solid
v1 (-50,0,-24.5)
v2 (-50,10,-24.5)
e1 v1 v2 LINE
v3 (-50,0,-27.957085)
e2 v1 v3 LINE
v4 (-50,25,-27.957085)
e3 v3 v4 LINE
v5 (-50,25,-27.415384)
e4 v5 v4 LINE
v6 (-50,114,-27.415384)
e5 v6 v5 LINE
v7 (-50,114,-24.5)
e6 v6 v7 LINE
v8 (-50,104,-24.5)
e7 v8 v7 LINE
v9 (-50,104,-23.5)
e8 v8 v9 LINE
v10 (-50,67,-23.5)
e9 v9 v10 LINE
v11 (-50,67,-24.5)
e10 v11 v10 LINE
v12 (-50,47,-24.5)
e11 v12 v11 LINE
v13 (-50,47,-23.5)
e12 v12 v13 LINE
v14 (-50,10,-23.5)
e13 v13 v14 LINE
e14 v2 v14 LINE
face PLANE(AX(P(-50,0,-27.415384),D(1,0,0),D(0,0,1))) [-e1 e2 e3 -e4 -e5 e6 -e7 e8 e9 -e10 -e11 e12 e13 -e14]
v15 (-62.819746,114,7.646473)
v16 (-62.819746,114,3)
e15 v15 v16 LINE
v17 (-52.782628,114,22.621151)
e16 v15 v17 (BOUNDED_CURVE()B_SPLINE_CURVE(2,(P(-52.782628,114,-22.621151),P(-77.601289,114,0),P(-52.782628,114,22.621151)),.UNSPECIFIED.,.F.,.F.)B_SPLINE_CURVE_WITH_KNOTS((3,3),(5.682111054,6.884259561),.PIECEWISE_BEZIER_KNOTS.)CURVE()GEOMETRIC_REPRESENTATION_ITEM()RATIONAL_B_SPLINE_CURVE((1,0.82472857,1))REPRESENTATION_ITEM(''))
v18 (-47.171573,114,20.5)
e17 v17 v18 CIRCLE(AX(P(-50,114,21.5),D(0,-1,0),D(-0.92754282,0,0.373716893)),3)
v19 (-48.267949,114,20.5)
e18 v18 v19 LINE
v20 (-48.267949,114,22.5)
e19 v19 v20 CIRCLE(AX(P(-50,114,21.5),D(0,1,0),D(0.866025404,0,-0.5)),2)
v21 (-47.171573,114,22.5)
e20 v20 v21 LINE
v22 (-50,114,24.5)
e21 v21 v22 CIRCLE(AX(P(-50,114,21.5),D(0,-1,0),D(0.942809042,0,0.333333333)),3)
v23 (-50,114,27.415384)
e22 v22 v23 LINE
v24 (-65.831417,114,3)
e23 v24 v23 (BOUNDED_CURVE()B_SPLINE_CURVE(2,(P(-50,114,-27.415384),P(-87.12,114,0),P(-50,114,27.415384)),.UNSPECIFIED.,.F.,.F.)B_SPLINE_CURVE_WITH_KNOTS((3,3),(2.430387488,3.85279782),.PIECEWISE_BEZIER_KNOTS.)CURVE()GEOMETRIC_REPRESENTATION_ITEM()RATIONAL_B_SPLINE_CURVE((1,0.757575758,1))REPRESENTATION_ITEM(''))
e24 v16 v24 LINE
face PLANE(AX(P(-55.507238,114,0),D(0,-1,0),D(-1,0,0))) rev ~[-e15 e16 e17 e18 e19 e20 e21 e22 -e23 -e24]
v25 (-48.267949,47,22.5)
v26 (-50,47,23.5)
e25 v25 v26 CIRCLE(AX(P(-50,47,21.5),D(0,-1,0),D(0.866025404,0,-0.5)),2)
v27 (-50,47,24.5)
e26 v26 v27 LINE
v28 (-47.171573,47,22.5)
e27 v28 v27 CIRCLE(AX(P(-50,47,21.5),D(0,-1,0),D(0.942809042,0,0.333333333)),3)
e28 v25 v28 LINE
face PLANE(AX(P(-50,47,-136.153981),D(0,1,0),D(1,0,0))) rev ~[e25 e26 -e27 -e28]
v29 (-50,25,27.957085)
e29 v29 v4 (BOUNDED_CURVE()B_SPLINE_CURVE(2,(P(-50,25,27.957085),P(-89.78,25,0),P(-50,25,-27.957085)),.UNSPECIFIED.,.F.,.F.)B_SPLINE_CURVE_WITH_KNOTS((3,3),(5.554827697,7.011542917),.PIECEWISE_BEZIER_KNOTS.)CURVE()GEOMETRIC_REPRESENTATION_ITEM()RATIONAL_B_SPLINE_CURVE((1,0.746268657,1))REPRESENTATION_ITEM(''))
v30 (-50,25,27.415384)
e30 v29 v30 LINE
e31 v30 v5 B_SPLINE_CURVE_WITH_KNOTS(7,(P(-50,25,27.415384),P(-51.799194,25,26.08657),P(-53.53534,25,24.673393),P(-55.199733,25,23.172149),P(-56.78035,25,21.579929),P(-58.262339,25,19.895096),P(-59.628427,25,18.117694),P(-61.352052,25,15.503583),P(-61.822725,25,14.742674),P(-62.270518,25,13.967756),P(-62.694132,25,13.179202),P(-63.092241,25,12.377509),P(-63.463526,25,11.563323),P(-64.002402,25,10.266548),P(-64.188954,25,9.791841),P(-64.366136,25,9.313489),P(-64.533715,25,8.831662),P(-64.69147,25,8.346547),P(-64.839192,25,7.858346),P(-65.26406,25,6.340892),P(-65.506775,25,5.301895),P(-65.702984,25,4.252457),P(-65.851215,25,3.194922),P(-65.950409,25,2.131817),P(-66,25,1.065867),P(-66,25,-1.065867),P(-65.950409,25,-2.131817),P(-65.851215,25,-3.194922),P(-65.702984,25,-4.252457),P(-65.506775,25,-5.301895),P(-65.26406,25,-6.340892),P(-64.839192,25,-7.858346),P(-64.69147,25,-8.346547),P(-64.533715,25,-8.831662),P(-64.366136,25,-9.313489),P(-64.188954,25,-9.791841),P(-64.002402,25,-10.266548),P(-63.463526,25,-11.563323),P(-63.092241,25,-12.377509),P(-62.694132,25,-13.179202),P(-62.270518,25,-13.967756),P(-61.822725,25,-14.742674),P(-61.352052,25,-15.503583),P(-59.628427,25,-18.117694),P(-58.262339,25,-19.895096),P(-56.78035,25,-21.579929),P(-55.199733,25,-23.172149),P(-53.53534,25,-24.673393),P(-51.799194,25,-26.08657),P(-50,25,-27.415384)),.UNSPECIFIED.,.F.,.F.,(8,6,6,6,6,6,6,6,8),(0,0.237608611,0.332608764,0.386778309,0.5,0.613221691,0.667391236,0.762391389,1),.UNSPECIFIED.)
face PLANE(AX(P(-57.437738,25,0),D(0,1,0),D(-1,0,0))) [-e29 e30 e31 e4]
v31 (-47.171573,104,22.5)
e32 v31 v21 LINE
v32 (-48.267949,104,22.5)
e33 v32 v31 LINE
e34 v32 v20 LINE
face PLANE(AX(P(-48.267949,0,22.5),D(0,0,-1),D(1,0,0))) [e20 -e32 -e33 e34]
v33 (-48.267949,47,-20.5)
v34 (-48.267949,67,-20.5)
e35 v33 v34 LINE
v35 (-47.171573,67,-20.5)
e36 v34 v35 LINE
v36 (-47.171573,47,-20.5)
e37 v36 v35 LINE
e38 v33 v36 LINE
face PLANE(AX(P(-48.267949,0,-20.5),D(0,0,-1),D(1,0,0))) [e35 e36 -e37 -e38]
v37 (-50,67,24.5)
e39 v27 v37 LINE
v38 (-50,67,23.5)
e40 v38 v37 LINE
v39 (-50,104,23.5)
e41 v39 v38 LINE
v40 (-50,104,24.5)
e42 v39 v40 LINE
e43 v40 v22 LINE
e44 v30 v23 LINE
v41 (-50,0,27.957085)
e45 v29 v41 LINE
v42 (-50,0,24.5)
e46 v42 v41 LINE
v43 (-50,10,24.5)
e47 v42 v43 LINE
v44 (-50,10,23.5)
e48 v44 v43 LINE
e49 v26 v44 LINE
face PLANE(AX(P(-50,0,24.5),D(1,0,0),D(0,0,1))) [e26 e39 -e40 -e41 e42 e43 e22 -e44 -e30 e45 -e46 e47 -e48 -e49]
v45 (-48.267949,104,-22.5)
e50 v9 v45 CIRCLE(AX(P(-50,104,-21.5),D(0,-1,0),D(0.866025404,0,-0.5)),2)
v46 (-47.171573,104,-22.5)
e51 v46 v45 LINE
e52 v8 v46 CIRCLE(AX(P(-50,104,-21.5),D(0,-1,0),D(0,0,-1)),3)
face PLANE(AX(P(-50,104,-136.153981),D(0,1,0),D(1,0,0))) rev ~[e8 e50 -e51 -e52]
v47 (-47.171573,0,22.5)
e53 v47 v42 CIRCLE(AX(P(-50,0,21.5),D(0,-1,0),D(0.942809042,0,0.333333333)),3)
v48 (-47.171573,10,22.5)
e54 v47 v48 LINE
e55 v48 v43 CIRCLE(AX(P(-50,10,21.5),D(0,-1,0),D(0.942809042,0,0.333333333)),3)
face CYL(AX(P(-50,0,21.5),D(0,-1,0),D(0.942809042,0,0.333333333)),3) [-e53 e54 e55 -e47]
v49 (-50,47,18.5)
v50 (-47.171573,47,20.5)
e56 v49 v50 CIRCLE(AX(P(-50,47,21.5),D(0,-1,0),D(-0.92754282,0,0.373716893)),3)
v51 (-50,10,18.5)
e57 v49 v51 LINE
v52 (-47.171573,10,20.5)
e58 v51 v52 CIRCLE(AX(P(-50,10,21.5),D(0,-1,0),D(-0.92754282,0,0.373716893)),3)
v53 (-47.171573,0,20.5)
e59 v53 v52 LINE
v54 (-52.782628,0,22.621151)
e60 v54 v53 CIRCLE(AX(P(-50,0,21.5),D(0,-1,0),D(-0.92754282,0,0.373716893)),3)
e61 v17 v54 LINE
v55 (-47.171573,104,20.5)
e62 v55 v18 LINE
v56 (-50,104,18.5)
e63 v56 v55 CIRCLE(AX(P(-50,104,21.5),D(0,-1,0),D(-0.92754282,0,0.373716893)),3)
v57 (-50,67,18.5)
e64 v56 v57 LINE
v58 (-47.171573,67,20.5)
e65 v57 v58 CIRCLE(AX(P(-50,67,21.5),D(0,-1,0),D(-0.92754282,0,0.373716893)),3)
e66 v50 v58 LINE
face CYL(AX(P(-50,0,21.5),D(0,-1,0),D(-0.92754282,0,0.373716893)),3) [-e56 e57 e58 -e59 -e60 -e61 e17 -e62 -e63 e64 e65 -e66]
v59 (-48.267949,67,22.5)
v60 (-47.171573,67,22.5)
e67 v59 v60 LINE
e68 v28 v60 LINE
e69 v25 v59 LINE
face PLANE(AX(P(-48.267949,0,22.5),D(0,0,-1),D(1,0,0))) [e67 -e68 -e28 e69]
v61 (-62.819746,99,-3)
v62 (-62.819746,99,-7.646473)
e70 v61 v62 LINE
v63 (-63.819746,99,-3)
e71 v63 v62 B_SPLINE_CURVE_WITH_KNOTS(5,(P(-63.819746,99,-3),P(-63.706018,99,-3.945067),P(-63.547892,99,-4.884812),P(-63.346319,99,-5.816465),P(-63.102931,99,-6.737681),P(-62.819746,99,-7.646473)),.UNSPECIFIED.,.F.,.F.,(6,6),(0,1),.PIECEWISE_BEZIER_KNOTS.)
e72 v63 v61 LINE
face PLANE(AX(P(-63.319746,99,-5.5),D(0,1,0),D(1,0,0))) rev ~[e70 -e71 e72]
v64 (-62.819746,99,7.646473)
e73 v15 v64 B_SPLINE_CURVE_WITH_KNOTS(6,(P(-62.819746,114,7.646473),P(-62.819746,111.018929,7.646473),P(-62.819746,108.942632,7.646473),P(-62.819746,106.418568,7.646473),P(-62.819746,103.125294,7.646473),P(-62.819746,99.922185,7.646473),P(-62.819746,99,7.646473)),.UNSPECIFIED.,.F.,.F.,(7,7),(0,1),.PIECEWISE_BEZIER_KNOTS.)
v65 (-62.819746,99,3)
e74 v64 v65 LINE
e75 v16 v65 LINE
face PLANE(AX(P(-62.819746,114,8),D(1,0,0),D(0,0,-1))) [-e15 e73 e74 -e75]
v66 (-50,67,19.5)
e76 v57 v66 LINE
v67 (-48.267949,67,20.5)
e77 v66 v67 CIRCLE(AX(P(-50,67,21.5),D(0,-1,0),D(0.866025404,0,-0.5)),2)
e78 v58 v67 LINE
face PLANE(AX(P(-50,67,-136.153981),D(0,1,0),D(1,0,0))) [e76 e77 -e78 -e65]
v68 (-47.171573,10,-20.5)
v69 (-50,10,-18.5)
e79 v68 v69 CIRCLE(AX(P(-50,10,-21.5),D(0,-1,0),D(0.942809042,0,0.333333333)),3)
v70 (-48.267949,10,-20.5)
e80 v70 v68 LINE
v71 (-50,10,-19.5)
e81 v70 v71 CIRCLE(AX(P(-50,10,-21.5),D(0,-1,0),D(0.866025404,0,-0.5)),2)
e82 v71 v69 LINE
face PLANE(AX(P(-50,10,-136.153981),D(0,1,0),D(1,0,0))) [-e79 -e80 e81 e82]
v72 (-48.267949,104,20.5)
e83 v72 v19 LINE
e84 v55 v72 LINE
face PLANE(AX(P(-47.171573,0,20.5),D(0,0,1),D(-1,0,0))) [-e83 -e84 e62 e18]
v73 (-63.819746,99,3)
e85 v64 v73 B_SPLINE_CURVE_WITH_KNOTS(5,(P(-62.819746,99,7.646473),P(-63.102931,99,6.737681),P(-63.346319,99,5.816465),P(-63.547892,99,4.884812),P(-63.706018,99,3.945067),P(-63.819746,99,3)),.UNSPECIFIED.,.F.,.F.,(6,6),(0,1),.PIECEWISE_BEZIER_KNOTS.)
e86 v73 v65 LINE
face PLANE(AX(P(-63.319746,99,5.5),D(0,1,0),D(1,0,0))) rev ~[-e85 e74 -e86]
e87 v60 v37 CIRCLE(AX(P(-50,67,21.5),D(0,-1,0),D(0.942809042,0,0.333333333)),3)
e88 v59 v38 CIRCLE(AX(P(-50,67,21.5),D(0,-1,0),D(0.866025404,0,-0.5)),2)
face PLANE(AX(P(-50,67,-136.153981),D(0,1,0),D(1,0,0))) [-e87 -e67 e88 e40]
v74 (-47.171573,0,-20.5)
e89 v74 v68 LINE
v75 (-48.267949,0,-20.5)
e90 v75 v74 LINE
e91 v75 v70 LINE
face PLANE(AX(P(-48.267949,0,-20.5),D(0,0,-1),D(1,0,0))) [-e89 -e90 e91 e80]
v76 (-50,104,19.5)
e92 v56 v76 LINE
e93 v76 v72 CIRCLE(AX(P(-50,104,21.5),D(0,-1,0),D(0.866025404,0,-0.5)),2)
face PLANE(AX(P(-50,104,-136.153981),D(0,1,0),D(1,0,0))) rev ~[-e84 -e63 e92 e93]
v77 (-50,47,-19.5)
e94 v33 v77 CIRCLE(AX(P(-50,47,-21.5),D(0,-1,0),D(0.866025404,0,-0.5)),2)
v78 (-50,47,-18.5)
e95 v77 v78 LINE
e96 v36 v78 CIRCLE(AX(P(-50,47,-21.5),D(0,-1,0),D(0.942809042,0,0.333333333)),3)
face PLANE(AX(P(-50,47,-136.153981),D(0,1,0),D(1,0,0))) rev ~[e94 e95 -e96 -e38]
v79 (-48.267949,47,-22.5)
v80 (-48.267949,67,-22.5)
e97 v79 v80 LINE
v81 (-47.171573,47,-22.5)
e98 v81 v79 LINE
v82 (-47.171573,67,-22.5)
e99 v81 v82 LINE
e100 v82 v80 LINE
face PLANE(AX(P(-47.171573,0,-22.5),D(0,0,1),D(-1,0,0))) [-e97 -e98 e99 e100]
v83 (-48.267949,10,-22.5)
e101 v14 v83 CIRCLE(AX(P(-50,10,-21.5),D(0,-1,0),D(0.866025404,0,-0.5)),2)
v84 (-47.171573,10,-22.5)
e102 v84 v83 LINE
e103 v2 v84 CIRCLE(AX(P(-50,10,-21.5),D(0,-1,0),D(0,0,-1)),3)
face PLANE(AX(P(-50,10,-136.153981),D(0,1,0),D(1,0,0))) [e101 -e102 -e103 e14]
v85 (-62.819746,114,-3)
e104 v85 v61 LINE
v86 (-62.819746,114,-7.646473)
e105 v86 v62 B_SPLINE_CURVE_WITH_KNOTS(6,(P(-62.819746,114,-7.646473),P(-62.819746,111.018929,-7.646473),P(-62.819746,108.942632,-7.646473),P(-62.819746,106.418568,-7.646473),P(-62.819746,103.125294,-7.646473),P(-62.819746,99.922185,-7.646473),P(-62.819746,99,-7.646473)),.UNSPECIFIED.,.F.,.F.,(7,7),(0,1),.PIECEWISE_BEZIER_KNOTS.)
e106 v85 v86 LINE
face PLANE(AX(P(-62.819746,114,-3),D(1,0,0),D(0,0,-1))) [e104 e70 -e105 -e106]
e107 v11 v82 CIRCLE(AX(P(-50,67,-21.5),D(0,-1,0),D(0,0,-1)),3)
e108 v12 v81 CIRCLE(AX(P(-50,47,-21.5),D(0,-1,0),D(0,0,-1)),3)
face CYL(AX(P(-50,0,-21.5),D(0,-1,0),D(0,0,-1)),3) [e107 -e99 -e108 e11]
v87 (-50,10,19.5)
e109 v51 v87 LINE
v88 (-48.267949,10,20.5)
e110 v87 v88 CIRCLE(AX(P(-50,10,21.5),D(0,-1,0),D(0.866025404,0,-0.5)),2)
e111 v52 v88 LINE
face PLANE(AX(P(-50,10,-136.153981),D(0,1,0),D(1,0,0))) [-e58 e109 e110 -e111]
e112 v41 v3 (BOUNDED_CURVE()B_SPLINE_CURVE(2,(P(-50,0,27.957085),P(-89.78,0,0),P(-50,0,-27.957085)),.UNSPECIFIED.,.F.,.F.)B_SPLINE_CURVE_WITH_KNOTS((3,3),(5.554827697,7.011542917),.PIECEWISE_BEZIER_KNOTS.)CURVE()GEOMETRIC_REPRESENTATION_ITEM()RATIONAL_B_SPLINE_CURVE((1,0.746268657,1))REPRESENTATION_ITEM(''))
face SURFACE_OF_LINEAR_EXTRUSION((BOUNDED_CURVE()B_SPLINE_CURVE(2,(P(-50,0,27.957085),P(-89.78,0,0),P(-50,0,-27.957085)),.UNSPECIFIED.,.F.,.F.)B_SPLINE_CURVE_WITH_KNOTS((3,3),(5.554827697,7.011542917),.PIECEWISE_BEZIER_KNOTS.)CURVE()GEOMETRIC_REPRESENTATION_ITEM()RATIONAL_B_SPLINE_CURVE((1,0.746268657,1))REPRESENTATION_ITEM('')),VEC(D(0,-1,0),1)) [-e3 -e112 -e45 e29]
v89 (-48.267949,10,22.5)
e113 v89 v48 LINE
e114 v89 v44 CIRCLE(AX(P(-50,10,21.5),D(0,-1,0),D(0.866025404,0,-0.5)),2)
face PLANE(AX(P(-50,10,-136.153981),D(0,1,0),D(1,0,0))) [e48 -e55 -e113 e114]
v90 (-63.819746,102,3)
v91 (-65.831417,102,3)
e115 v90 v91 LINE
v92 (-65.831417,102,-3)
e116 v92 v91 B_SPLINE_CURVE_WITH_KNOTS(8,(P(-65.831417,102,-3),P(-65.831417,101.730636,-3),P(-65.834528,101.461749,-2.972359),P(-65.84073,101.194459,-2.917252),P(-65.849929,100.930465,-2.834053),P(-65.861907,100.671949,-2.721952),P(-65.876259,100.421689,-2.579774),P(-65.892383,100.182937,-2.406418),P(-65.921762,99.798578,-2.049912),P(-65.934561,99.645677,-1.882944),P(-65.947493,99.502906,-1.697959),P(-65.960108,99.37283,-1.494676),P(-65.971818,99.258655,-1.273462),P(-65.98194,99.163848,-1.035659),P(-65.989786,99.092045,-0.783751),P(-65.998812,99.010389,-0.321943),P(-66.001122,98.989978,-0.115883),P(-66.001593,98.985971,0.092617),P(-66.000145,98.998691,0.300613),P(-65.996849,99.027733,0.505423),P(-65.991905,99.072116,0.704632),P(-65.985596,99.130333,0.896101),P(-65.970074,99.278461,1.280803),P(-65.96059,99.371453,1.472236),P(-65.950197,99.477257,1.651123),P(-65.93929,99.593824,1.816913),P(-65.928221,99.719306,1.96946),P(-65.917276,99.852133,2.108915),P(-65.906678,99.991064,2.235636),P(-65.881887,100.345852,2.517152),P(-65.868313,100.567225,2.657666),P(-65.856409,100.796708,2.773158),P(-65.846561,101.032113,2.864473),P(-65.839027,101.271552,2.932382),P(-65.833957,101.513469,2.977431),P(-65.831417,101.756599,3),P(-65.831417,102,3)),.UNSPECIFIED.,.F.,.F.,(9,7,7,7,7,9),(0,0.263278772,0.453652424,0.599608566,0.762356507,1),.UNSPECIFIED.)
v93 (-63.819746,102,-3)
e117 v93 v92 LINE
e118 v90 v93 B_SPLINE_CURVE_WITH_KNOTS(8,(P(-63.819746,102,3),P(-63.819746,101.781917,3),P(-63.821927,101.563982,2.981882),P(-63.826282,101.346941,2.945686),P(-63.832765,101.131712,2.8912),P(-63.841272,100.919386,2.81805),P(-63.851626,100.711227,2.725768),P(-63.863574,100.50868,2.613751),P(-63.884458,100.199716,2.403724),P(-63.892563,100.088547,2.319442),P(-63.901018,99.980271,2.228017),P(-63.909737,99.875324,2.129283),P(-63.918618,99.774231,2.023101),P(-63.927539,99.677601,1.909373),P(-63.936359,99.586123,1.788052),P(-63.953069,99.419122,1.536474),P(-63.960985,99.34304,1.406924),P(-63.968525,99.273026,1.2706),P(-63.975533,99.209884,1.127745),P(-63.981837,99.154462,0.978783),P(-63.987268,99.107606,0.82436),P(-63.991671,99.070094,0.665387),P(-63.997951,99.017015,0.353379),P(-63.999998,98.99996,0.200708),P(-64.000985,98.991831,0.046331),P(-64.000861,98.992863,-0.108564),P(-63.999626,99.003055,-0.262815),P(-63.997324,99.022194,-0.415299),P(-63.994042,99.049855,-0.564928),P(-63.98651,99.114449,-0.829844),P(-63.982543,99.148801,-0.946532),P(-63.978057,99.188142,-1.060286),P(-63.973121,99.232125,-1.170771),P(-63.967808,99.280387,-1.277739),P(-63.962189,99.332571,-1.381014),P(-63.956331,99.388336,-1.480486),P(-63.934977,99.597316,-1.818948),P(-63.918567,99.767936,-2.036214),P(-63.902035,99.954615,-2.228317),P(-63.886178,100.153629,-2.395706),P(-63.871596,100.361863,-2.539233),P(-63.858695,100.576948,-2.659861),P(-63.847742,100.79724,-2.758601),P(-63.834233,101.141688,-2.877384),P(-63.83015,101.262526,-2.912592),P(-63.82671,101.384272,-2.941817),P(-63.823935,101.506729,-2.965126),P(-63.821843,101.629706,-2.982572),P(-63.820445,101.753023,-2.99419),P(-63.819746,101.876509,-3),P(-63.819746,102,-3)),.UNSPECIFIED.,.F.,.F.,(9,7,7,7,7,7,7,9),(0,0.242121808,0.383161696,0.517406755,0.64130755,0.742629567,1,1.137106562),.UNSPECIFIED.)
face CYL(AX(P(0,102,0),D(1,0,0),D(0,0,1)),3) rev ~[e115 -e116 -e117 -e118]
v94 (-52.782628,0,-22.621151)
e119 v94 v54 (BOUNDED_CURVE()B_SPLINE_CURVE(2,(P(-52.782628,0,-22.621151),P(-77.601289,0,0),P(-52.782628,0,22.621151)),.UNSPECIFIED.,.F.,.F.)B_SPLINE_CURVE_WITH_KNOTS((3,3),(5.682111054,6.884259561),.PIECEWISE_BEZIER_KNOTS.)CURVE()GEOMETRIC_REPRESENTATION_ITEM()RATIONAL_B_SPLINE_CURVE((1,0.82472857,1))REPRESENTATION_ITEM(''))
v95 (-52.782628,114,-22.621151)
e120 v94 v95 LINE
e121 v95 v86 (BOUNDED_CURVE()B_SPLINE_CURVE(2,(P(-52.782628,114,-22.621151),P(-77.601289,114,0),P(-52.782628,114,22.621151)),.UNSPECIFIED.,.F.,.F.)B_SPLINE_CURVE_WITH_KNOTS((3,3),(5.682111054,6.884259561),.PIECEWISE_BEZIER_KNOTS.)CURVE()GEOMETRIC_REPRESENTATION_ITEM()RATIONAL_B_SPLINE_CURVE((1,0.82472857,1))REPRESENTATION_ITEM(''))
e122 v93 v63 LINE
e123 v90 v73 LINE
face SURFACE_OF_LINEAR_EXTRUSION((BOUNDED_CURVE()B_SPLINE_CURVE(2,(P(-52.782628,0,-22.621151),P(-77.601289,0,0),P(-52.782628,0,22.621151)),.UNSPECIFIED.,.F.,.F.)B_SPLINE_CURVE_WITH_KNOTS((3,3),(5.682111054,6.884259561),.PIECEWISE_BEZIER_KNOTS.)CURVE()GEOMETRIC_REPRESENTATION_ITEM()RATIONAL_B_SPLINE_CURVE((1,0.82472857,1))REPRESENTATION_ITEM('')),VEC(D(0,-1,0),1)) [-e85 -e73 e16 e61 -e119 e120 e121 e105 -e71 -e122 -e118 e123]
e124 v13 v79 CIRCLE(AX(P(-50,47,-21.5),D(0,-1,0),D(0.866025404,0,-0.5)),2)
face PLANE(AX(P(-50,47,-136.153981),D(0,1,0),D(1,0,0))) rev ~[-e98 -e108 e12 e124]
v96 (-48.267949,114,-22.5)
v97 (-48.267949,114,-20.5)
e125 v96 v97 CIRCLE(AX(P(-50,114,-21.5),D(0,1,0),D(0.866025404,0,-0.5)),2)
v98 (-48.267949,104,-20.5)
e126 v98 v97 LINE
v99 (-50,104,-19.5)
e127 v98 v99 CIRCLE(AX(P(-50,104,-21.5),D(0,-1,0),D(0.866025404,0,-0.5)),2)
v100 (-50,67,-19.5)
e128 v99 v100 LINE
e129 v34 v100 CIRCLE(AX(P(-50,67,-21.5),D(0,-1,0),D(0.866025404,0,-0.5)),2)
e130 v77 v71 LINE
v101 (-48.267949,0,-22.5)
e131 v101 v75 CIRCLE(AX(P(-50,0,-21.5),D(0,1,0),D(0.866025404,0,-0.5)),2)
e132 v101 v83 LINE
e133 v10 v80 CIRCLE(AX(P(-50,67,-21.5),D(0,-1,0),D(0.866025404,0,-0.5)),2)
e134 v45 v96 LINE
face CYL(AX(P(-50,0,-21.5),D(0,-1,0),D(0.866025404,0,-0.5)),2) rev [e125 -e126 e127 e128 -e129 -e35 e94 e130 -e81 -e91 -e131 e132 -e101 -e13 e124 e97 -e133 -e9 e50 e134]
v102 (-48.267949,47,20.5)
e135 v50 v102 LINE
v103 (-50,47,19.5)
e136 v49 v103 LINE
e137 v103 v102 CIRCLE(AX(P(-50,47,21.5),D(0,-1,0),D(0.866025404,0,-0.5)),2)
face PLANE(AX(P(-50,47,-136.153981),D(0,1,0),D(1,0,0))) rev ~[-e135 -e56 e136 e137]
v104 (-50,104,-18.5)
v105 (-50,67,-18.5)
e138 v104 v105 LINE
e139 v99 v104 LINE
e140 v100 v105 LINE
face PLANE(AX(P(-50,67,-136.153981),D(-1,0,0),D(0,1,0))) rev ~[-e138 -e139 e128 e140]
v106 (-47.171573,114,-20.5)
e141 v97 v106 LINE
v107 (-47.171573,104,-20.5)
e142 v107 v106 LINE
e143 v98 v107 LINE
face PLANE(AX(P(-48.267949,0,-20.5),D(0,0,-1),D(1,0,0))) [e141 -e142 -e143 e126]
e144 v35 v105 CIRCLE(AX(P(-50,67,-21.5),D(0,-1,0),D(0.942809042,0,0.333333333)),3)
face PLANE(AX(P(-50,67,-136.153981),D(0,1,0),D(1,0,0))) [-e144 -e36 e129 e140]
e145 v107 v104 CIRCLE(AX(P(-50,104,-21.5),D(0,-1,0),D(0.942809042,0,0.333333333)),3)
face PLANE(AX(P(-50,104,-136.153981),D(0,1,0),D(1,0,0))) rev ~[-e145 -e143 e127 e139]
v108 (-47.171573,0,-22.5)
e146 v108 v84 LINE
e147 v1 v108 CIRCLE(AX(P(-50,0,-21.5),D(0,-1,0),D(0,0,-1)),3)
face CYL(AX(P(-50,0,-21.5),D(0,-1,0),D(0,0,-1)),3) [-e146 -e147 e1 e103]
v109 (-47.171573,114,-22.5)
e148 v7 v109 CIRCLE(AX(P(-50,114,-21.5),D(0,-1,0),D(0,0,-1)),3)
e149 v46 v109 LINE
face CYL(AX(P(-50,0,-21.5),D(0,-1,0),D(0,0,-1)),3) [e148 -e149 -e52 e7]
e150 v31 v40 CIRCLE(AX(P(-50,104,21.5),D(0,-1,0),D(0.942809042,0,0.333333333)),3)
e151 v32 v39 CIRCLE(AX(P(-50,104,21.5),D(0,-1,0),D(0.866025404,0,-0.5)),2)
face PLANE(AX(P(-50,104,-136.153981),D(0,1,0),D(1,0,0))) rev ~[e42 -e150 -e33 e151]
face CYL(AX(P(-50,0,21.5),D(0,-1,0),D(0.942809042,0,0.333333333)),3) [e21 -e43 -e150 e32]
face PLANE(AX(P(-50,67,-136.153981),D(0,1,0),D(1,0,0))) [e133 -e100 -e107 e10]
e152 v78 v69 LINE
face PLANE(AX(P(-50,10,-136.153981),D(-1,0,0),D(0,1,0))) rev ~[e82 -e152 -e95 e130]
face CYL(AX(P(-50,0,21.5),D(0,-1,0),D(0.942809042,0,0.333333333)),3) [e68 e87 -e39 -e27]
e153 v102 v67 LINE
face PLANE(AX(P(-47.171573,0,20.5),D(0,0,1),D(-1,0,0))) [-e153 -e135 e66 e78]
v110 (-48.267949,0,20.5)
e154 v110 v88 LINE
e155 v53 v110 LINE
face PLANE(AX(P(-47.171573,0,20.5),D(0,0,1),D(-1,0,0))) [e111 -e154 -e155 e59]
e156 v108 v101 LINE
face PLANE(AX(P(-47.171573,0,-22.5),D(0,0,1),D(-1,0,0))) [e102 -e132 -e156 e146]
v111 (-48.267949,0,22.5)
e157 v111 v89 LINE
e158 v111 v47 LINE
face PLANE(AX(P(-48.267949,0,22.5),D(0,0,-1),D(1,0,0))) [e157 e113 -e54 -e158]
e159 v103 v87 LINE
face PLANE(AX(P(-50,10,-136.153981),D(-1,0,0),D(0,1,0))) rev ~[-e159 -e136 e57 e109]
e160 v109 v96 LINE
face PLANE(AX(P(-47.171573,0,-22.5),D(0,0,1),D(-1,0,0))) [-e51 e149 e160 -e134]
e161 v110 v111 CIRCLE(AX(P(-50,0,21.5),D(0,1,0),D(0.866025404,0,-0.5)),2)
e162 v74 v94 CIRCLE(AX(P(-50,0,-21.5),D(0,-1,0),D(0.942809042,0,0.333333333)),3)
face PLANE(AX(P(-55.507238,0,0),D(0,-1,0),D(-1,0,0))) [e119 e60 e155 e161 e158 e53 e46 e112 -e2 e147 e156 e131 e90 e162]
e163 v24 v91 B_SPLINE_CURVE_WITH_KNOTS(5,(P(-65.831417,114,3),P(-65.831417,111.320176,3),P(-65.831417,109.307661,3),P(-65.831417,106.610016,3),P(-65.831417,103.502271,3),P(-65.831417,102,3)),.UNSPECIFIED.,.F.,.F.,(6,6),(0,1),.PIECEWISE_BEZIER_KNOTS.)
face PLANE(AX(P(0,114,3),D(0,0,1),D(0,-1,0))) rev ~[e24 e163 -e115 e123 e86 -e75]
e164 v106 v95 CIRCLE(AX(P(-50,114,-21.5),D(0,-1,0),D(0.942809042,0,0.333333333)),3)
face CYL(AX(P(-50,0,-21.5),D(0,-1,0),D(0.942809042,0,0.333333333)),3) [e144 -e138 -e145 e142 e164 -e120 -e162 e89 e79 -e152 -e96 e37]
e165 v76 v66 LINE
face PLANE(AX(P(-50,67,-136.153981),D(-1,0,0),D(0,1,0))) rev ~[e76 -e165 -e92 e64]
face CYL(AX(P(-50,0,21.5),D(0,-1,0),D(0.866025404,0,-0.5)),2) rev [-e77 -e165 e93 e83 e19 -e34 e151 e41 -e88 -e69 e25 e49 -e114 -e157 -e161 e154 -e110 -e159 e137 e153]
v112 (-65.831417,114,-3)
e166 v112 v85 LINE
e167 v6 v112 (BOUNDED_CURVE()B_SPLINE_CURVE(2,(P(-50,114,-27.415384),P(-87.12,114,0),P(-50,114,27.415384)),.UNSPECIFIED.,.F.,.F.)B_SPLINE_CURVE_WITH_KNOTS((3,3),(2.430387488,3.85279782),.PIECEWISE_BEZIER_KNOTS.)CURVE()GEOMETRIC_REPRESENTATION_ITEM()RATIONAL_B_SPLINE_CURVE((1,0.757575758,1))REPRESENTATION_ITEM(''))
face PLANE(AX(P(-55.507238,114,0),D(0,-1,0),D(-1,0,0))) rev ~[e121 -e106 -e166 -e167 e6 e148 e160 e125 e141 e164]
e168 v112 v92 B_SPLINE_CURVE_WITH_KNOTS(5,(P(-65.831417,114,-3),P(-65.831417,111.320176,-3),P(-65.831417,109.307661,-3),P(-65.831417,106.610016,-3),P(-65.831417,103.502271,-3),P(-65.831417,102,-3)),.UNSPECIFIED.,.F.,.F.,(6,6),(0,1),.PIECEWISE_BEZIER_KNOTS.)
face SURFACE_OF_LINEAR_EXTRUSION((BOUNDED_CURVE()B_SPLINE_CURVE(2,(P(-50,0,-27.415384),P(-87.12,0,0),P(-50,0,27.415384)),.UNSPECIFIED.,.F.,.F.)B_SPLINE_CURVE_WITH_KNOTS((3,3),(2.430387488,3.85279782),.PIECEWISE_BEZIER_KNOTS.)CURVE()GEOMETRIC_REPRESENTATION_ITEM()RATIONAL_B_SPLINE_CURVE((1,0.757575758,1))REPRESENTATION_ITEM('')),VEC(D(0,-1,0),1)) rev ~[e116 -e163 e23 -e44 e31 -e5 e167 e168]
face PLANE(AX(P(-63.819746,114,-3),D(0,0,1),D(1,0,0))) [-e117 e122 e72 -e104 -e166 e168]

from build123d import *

# Parameters (mm, degrees)
EXTRUDE_1_DEPTH          = 114
EXTRUDE_2_DEPTH          = 25
CUT_EXTRUDE_1_DEPTH      = 136.153981133
SKETCH_4_W               = 1
SKETCH_4_H               = 5
EXTRUDE_3_DEPTH          = 15
CUT_EXTRUDE_2_DEPTH      = 136.153981133
CUT_EXTRUDE_2_DEPTH_BACK = 136.153981133
SKETCH_5_W               = 9.764805651
SKETCH_5_H               = 37


with BuildPart() as part:
    # 草图1 → 凸台-拉伸1 (new body)
    with BuildSketch(Plane(origin=(0, 0, 0), x_dir=(1, 0, 0), z_dir=(0, 1, 0))):
        with BuildLine():
            Line((-50, 27.415384473), (-50, 24.5))
            ThreePointArc((-50, 24.5), (-48.267949192, 23.949489743), (-47.171572875, 22.5))
            Line((-47.171572875, 22.5), (-48.267949192, 22.5))
            ThreePointArc((-48.267949192, 22.5), (-52, 21.5), (-48.267949192, 20.5))
            Line((-48.267949192, 20.5), (-47.171572875, 20.5))
            ThreePointArc((-47.171572875, 20.5), (-51.060822526, 18.693818329), (-52.782628461, 22.62115068))
            add(Edge.make_bspline(
                [(-52.782628461, 22.62115068), (-77.601288898, 0), (-52.782628461, -22.62115068)],
                knots=[5.682111054, 5.682111054, 5.682111054, 6.884259561, 6.884259561, 6.884259561], degree=2, weights=[1, 0.82472857, 1]))
            ThreePointArc((-52.782628461, -22.62115068), (-51.060822526, -18.693818329), (-47.171572875, -20.5))
            Line((-47.171572875, -20.5), (-48.267949192, -20.5))
            ThreePointArc((-48.267949192, -20.5), (-52, -21.5), (-48.267949192, -22.5))
            Line((-48.267949192, -22.5), (-47.171572875, -22.5))
            ThreePointArc((-47.171572875, -22.5), (-48.267949192, -23.949489743), (-50, -24.5))
            Line((-50, -24.5), (-50, -27.415384473))
            add(Edge.make_bspline(
                [(-50, 27.415384473), (-87.12, 0), (-50, -27.415384473)],
                knots=[2.430387488, 2.430387488, 2.430387488, 3.85279782, 3.85279782, 3.85279782], degree=2, weights=[1, 0.757575758, 1]))
        make_face()
    extrude(amount=EXTRUDE_1_DEPTH)

    # 草图2 → 凸台-拉伸2 (add)
    with BuildSketch(Plane.XZ):
        with BuildLine():
            Line((-50, -24.968730444), (-50, -27.95708451))
            add(Edge.make_bspline(
                [(-50, 27.95708451), (-89.78, 0), (-50, -27.95708451)],
                knots=[5.554827697, 5.554827697, 5.554827697, 7.011542917, 7.011542917, 7.011542917], degree=2, weights=[1, 0.746268657, 1]))
            Line((-50, 27.95708451), (-50, 24.968730444))
            add(Edge.make_bspline(
                [(-50, 24.968730444), (-81.92, 0), (-50, -24.968730444)],
                knots=[5.609054801, 5.609054801, 5.609054801, 6.957315814, 6.957315814, 6.957315814], degree=2, weights=[1, 0.78125, 1]))
        make_face()
    extrude(amount=-EXTRUDE_2_DEPTH)

    # 草图3 → 切除-拉伸1 (cut, through all)
    with BuildSketch(Plane(origin=(0, 0, 0), x_dir=(0, 0, -1), z_dir=(1, 0, 0))):
        with BuildLine():
            Line((3, 114), (-3, 114))
            Line((-3, 114), (-3, 102))
            ThreePointArc((-3, 102), (0, 99), (3, 102))
            Line((3, 102), (3, 114))
        make_face()
    extrude(amount=-CUT_EXTRUDE_1_DEPTH, mode=Mode.SUBTRACT)

    # 草图4 → 凸台-拉伸3 (add)
    with BuildSketch(Plane(origin=(0, 114, 0), x_dir=(1, 0, 0), z_dir=(0, 1, 0))):
        with Locations((-63.319746161, 5.5)):
            Rectangle(SKETCH_4_W, SKETCH_4_H)
        with Locations((-63.319746161, -5.5)):
            Rectangle(SKETCH_4_W, SKETCH_4_H)
    extrude(amount=-EXTRUDE_3_DEPTH)

    # 草图5 → 切除-拉伸2 (cut, two sides: drawn at the far end of the back side and taken through both)
    with BuildSketch(Plane.XY.offset(-CUT_EXTRUDE_2_DEPTH_BACK)):
        with Locations((-45.117597175, 85.5)):
            Rectangle(SKETCH_5_W, SKETCH_5_H)
        with Locations((-45.117597175, 28.5)):
            Rectangle(SKETCH_5_W, SKETCH_5_H)
    extrude(amount=CUT_EXTRUDE_2_DEPTH + CUT_EXTRUDE_2_DEPTH_BACK, mode=Mode.SUBTRACT)


solid = part.part
